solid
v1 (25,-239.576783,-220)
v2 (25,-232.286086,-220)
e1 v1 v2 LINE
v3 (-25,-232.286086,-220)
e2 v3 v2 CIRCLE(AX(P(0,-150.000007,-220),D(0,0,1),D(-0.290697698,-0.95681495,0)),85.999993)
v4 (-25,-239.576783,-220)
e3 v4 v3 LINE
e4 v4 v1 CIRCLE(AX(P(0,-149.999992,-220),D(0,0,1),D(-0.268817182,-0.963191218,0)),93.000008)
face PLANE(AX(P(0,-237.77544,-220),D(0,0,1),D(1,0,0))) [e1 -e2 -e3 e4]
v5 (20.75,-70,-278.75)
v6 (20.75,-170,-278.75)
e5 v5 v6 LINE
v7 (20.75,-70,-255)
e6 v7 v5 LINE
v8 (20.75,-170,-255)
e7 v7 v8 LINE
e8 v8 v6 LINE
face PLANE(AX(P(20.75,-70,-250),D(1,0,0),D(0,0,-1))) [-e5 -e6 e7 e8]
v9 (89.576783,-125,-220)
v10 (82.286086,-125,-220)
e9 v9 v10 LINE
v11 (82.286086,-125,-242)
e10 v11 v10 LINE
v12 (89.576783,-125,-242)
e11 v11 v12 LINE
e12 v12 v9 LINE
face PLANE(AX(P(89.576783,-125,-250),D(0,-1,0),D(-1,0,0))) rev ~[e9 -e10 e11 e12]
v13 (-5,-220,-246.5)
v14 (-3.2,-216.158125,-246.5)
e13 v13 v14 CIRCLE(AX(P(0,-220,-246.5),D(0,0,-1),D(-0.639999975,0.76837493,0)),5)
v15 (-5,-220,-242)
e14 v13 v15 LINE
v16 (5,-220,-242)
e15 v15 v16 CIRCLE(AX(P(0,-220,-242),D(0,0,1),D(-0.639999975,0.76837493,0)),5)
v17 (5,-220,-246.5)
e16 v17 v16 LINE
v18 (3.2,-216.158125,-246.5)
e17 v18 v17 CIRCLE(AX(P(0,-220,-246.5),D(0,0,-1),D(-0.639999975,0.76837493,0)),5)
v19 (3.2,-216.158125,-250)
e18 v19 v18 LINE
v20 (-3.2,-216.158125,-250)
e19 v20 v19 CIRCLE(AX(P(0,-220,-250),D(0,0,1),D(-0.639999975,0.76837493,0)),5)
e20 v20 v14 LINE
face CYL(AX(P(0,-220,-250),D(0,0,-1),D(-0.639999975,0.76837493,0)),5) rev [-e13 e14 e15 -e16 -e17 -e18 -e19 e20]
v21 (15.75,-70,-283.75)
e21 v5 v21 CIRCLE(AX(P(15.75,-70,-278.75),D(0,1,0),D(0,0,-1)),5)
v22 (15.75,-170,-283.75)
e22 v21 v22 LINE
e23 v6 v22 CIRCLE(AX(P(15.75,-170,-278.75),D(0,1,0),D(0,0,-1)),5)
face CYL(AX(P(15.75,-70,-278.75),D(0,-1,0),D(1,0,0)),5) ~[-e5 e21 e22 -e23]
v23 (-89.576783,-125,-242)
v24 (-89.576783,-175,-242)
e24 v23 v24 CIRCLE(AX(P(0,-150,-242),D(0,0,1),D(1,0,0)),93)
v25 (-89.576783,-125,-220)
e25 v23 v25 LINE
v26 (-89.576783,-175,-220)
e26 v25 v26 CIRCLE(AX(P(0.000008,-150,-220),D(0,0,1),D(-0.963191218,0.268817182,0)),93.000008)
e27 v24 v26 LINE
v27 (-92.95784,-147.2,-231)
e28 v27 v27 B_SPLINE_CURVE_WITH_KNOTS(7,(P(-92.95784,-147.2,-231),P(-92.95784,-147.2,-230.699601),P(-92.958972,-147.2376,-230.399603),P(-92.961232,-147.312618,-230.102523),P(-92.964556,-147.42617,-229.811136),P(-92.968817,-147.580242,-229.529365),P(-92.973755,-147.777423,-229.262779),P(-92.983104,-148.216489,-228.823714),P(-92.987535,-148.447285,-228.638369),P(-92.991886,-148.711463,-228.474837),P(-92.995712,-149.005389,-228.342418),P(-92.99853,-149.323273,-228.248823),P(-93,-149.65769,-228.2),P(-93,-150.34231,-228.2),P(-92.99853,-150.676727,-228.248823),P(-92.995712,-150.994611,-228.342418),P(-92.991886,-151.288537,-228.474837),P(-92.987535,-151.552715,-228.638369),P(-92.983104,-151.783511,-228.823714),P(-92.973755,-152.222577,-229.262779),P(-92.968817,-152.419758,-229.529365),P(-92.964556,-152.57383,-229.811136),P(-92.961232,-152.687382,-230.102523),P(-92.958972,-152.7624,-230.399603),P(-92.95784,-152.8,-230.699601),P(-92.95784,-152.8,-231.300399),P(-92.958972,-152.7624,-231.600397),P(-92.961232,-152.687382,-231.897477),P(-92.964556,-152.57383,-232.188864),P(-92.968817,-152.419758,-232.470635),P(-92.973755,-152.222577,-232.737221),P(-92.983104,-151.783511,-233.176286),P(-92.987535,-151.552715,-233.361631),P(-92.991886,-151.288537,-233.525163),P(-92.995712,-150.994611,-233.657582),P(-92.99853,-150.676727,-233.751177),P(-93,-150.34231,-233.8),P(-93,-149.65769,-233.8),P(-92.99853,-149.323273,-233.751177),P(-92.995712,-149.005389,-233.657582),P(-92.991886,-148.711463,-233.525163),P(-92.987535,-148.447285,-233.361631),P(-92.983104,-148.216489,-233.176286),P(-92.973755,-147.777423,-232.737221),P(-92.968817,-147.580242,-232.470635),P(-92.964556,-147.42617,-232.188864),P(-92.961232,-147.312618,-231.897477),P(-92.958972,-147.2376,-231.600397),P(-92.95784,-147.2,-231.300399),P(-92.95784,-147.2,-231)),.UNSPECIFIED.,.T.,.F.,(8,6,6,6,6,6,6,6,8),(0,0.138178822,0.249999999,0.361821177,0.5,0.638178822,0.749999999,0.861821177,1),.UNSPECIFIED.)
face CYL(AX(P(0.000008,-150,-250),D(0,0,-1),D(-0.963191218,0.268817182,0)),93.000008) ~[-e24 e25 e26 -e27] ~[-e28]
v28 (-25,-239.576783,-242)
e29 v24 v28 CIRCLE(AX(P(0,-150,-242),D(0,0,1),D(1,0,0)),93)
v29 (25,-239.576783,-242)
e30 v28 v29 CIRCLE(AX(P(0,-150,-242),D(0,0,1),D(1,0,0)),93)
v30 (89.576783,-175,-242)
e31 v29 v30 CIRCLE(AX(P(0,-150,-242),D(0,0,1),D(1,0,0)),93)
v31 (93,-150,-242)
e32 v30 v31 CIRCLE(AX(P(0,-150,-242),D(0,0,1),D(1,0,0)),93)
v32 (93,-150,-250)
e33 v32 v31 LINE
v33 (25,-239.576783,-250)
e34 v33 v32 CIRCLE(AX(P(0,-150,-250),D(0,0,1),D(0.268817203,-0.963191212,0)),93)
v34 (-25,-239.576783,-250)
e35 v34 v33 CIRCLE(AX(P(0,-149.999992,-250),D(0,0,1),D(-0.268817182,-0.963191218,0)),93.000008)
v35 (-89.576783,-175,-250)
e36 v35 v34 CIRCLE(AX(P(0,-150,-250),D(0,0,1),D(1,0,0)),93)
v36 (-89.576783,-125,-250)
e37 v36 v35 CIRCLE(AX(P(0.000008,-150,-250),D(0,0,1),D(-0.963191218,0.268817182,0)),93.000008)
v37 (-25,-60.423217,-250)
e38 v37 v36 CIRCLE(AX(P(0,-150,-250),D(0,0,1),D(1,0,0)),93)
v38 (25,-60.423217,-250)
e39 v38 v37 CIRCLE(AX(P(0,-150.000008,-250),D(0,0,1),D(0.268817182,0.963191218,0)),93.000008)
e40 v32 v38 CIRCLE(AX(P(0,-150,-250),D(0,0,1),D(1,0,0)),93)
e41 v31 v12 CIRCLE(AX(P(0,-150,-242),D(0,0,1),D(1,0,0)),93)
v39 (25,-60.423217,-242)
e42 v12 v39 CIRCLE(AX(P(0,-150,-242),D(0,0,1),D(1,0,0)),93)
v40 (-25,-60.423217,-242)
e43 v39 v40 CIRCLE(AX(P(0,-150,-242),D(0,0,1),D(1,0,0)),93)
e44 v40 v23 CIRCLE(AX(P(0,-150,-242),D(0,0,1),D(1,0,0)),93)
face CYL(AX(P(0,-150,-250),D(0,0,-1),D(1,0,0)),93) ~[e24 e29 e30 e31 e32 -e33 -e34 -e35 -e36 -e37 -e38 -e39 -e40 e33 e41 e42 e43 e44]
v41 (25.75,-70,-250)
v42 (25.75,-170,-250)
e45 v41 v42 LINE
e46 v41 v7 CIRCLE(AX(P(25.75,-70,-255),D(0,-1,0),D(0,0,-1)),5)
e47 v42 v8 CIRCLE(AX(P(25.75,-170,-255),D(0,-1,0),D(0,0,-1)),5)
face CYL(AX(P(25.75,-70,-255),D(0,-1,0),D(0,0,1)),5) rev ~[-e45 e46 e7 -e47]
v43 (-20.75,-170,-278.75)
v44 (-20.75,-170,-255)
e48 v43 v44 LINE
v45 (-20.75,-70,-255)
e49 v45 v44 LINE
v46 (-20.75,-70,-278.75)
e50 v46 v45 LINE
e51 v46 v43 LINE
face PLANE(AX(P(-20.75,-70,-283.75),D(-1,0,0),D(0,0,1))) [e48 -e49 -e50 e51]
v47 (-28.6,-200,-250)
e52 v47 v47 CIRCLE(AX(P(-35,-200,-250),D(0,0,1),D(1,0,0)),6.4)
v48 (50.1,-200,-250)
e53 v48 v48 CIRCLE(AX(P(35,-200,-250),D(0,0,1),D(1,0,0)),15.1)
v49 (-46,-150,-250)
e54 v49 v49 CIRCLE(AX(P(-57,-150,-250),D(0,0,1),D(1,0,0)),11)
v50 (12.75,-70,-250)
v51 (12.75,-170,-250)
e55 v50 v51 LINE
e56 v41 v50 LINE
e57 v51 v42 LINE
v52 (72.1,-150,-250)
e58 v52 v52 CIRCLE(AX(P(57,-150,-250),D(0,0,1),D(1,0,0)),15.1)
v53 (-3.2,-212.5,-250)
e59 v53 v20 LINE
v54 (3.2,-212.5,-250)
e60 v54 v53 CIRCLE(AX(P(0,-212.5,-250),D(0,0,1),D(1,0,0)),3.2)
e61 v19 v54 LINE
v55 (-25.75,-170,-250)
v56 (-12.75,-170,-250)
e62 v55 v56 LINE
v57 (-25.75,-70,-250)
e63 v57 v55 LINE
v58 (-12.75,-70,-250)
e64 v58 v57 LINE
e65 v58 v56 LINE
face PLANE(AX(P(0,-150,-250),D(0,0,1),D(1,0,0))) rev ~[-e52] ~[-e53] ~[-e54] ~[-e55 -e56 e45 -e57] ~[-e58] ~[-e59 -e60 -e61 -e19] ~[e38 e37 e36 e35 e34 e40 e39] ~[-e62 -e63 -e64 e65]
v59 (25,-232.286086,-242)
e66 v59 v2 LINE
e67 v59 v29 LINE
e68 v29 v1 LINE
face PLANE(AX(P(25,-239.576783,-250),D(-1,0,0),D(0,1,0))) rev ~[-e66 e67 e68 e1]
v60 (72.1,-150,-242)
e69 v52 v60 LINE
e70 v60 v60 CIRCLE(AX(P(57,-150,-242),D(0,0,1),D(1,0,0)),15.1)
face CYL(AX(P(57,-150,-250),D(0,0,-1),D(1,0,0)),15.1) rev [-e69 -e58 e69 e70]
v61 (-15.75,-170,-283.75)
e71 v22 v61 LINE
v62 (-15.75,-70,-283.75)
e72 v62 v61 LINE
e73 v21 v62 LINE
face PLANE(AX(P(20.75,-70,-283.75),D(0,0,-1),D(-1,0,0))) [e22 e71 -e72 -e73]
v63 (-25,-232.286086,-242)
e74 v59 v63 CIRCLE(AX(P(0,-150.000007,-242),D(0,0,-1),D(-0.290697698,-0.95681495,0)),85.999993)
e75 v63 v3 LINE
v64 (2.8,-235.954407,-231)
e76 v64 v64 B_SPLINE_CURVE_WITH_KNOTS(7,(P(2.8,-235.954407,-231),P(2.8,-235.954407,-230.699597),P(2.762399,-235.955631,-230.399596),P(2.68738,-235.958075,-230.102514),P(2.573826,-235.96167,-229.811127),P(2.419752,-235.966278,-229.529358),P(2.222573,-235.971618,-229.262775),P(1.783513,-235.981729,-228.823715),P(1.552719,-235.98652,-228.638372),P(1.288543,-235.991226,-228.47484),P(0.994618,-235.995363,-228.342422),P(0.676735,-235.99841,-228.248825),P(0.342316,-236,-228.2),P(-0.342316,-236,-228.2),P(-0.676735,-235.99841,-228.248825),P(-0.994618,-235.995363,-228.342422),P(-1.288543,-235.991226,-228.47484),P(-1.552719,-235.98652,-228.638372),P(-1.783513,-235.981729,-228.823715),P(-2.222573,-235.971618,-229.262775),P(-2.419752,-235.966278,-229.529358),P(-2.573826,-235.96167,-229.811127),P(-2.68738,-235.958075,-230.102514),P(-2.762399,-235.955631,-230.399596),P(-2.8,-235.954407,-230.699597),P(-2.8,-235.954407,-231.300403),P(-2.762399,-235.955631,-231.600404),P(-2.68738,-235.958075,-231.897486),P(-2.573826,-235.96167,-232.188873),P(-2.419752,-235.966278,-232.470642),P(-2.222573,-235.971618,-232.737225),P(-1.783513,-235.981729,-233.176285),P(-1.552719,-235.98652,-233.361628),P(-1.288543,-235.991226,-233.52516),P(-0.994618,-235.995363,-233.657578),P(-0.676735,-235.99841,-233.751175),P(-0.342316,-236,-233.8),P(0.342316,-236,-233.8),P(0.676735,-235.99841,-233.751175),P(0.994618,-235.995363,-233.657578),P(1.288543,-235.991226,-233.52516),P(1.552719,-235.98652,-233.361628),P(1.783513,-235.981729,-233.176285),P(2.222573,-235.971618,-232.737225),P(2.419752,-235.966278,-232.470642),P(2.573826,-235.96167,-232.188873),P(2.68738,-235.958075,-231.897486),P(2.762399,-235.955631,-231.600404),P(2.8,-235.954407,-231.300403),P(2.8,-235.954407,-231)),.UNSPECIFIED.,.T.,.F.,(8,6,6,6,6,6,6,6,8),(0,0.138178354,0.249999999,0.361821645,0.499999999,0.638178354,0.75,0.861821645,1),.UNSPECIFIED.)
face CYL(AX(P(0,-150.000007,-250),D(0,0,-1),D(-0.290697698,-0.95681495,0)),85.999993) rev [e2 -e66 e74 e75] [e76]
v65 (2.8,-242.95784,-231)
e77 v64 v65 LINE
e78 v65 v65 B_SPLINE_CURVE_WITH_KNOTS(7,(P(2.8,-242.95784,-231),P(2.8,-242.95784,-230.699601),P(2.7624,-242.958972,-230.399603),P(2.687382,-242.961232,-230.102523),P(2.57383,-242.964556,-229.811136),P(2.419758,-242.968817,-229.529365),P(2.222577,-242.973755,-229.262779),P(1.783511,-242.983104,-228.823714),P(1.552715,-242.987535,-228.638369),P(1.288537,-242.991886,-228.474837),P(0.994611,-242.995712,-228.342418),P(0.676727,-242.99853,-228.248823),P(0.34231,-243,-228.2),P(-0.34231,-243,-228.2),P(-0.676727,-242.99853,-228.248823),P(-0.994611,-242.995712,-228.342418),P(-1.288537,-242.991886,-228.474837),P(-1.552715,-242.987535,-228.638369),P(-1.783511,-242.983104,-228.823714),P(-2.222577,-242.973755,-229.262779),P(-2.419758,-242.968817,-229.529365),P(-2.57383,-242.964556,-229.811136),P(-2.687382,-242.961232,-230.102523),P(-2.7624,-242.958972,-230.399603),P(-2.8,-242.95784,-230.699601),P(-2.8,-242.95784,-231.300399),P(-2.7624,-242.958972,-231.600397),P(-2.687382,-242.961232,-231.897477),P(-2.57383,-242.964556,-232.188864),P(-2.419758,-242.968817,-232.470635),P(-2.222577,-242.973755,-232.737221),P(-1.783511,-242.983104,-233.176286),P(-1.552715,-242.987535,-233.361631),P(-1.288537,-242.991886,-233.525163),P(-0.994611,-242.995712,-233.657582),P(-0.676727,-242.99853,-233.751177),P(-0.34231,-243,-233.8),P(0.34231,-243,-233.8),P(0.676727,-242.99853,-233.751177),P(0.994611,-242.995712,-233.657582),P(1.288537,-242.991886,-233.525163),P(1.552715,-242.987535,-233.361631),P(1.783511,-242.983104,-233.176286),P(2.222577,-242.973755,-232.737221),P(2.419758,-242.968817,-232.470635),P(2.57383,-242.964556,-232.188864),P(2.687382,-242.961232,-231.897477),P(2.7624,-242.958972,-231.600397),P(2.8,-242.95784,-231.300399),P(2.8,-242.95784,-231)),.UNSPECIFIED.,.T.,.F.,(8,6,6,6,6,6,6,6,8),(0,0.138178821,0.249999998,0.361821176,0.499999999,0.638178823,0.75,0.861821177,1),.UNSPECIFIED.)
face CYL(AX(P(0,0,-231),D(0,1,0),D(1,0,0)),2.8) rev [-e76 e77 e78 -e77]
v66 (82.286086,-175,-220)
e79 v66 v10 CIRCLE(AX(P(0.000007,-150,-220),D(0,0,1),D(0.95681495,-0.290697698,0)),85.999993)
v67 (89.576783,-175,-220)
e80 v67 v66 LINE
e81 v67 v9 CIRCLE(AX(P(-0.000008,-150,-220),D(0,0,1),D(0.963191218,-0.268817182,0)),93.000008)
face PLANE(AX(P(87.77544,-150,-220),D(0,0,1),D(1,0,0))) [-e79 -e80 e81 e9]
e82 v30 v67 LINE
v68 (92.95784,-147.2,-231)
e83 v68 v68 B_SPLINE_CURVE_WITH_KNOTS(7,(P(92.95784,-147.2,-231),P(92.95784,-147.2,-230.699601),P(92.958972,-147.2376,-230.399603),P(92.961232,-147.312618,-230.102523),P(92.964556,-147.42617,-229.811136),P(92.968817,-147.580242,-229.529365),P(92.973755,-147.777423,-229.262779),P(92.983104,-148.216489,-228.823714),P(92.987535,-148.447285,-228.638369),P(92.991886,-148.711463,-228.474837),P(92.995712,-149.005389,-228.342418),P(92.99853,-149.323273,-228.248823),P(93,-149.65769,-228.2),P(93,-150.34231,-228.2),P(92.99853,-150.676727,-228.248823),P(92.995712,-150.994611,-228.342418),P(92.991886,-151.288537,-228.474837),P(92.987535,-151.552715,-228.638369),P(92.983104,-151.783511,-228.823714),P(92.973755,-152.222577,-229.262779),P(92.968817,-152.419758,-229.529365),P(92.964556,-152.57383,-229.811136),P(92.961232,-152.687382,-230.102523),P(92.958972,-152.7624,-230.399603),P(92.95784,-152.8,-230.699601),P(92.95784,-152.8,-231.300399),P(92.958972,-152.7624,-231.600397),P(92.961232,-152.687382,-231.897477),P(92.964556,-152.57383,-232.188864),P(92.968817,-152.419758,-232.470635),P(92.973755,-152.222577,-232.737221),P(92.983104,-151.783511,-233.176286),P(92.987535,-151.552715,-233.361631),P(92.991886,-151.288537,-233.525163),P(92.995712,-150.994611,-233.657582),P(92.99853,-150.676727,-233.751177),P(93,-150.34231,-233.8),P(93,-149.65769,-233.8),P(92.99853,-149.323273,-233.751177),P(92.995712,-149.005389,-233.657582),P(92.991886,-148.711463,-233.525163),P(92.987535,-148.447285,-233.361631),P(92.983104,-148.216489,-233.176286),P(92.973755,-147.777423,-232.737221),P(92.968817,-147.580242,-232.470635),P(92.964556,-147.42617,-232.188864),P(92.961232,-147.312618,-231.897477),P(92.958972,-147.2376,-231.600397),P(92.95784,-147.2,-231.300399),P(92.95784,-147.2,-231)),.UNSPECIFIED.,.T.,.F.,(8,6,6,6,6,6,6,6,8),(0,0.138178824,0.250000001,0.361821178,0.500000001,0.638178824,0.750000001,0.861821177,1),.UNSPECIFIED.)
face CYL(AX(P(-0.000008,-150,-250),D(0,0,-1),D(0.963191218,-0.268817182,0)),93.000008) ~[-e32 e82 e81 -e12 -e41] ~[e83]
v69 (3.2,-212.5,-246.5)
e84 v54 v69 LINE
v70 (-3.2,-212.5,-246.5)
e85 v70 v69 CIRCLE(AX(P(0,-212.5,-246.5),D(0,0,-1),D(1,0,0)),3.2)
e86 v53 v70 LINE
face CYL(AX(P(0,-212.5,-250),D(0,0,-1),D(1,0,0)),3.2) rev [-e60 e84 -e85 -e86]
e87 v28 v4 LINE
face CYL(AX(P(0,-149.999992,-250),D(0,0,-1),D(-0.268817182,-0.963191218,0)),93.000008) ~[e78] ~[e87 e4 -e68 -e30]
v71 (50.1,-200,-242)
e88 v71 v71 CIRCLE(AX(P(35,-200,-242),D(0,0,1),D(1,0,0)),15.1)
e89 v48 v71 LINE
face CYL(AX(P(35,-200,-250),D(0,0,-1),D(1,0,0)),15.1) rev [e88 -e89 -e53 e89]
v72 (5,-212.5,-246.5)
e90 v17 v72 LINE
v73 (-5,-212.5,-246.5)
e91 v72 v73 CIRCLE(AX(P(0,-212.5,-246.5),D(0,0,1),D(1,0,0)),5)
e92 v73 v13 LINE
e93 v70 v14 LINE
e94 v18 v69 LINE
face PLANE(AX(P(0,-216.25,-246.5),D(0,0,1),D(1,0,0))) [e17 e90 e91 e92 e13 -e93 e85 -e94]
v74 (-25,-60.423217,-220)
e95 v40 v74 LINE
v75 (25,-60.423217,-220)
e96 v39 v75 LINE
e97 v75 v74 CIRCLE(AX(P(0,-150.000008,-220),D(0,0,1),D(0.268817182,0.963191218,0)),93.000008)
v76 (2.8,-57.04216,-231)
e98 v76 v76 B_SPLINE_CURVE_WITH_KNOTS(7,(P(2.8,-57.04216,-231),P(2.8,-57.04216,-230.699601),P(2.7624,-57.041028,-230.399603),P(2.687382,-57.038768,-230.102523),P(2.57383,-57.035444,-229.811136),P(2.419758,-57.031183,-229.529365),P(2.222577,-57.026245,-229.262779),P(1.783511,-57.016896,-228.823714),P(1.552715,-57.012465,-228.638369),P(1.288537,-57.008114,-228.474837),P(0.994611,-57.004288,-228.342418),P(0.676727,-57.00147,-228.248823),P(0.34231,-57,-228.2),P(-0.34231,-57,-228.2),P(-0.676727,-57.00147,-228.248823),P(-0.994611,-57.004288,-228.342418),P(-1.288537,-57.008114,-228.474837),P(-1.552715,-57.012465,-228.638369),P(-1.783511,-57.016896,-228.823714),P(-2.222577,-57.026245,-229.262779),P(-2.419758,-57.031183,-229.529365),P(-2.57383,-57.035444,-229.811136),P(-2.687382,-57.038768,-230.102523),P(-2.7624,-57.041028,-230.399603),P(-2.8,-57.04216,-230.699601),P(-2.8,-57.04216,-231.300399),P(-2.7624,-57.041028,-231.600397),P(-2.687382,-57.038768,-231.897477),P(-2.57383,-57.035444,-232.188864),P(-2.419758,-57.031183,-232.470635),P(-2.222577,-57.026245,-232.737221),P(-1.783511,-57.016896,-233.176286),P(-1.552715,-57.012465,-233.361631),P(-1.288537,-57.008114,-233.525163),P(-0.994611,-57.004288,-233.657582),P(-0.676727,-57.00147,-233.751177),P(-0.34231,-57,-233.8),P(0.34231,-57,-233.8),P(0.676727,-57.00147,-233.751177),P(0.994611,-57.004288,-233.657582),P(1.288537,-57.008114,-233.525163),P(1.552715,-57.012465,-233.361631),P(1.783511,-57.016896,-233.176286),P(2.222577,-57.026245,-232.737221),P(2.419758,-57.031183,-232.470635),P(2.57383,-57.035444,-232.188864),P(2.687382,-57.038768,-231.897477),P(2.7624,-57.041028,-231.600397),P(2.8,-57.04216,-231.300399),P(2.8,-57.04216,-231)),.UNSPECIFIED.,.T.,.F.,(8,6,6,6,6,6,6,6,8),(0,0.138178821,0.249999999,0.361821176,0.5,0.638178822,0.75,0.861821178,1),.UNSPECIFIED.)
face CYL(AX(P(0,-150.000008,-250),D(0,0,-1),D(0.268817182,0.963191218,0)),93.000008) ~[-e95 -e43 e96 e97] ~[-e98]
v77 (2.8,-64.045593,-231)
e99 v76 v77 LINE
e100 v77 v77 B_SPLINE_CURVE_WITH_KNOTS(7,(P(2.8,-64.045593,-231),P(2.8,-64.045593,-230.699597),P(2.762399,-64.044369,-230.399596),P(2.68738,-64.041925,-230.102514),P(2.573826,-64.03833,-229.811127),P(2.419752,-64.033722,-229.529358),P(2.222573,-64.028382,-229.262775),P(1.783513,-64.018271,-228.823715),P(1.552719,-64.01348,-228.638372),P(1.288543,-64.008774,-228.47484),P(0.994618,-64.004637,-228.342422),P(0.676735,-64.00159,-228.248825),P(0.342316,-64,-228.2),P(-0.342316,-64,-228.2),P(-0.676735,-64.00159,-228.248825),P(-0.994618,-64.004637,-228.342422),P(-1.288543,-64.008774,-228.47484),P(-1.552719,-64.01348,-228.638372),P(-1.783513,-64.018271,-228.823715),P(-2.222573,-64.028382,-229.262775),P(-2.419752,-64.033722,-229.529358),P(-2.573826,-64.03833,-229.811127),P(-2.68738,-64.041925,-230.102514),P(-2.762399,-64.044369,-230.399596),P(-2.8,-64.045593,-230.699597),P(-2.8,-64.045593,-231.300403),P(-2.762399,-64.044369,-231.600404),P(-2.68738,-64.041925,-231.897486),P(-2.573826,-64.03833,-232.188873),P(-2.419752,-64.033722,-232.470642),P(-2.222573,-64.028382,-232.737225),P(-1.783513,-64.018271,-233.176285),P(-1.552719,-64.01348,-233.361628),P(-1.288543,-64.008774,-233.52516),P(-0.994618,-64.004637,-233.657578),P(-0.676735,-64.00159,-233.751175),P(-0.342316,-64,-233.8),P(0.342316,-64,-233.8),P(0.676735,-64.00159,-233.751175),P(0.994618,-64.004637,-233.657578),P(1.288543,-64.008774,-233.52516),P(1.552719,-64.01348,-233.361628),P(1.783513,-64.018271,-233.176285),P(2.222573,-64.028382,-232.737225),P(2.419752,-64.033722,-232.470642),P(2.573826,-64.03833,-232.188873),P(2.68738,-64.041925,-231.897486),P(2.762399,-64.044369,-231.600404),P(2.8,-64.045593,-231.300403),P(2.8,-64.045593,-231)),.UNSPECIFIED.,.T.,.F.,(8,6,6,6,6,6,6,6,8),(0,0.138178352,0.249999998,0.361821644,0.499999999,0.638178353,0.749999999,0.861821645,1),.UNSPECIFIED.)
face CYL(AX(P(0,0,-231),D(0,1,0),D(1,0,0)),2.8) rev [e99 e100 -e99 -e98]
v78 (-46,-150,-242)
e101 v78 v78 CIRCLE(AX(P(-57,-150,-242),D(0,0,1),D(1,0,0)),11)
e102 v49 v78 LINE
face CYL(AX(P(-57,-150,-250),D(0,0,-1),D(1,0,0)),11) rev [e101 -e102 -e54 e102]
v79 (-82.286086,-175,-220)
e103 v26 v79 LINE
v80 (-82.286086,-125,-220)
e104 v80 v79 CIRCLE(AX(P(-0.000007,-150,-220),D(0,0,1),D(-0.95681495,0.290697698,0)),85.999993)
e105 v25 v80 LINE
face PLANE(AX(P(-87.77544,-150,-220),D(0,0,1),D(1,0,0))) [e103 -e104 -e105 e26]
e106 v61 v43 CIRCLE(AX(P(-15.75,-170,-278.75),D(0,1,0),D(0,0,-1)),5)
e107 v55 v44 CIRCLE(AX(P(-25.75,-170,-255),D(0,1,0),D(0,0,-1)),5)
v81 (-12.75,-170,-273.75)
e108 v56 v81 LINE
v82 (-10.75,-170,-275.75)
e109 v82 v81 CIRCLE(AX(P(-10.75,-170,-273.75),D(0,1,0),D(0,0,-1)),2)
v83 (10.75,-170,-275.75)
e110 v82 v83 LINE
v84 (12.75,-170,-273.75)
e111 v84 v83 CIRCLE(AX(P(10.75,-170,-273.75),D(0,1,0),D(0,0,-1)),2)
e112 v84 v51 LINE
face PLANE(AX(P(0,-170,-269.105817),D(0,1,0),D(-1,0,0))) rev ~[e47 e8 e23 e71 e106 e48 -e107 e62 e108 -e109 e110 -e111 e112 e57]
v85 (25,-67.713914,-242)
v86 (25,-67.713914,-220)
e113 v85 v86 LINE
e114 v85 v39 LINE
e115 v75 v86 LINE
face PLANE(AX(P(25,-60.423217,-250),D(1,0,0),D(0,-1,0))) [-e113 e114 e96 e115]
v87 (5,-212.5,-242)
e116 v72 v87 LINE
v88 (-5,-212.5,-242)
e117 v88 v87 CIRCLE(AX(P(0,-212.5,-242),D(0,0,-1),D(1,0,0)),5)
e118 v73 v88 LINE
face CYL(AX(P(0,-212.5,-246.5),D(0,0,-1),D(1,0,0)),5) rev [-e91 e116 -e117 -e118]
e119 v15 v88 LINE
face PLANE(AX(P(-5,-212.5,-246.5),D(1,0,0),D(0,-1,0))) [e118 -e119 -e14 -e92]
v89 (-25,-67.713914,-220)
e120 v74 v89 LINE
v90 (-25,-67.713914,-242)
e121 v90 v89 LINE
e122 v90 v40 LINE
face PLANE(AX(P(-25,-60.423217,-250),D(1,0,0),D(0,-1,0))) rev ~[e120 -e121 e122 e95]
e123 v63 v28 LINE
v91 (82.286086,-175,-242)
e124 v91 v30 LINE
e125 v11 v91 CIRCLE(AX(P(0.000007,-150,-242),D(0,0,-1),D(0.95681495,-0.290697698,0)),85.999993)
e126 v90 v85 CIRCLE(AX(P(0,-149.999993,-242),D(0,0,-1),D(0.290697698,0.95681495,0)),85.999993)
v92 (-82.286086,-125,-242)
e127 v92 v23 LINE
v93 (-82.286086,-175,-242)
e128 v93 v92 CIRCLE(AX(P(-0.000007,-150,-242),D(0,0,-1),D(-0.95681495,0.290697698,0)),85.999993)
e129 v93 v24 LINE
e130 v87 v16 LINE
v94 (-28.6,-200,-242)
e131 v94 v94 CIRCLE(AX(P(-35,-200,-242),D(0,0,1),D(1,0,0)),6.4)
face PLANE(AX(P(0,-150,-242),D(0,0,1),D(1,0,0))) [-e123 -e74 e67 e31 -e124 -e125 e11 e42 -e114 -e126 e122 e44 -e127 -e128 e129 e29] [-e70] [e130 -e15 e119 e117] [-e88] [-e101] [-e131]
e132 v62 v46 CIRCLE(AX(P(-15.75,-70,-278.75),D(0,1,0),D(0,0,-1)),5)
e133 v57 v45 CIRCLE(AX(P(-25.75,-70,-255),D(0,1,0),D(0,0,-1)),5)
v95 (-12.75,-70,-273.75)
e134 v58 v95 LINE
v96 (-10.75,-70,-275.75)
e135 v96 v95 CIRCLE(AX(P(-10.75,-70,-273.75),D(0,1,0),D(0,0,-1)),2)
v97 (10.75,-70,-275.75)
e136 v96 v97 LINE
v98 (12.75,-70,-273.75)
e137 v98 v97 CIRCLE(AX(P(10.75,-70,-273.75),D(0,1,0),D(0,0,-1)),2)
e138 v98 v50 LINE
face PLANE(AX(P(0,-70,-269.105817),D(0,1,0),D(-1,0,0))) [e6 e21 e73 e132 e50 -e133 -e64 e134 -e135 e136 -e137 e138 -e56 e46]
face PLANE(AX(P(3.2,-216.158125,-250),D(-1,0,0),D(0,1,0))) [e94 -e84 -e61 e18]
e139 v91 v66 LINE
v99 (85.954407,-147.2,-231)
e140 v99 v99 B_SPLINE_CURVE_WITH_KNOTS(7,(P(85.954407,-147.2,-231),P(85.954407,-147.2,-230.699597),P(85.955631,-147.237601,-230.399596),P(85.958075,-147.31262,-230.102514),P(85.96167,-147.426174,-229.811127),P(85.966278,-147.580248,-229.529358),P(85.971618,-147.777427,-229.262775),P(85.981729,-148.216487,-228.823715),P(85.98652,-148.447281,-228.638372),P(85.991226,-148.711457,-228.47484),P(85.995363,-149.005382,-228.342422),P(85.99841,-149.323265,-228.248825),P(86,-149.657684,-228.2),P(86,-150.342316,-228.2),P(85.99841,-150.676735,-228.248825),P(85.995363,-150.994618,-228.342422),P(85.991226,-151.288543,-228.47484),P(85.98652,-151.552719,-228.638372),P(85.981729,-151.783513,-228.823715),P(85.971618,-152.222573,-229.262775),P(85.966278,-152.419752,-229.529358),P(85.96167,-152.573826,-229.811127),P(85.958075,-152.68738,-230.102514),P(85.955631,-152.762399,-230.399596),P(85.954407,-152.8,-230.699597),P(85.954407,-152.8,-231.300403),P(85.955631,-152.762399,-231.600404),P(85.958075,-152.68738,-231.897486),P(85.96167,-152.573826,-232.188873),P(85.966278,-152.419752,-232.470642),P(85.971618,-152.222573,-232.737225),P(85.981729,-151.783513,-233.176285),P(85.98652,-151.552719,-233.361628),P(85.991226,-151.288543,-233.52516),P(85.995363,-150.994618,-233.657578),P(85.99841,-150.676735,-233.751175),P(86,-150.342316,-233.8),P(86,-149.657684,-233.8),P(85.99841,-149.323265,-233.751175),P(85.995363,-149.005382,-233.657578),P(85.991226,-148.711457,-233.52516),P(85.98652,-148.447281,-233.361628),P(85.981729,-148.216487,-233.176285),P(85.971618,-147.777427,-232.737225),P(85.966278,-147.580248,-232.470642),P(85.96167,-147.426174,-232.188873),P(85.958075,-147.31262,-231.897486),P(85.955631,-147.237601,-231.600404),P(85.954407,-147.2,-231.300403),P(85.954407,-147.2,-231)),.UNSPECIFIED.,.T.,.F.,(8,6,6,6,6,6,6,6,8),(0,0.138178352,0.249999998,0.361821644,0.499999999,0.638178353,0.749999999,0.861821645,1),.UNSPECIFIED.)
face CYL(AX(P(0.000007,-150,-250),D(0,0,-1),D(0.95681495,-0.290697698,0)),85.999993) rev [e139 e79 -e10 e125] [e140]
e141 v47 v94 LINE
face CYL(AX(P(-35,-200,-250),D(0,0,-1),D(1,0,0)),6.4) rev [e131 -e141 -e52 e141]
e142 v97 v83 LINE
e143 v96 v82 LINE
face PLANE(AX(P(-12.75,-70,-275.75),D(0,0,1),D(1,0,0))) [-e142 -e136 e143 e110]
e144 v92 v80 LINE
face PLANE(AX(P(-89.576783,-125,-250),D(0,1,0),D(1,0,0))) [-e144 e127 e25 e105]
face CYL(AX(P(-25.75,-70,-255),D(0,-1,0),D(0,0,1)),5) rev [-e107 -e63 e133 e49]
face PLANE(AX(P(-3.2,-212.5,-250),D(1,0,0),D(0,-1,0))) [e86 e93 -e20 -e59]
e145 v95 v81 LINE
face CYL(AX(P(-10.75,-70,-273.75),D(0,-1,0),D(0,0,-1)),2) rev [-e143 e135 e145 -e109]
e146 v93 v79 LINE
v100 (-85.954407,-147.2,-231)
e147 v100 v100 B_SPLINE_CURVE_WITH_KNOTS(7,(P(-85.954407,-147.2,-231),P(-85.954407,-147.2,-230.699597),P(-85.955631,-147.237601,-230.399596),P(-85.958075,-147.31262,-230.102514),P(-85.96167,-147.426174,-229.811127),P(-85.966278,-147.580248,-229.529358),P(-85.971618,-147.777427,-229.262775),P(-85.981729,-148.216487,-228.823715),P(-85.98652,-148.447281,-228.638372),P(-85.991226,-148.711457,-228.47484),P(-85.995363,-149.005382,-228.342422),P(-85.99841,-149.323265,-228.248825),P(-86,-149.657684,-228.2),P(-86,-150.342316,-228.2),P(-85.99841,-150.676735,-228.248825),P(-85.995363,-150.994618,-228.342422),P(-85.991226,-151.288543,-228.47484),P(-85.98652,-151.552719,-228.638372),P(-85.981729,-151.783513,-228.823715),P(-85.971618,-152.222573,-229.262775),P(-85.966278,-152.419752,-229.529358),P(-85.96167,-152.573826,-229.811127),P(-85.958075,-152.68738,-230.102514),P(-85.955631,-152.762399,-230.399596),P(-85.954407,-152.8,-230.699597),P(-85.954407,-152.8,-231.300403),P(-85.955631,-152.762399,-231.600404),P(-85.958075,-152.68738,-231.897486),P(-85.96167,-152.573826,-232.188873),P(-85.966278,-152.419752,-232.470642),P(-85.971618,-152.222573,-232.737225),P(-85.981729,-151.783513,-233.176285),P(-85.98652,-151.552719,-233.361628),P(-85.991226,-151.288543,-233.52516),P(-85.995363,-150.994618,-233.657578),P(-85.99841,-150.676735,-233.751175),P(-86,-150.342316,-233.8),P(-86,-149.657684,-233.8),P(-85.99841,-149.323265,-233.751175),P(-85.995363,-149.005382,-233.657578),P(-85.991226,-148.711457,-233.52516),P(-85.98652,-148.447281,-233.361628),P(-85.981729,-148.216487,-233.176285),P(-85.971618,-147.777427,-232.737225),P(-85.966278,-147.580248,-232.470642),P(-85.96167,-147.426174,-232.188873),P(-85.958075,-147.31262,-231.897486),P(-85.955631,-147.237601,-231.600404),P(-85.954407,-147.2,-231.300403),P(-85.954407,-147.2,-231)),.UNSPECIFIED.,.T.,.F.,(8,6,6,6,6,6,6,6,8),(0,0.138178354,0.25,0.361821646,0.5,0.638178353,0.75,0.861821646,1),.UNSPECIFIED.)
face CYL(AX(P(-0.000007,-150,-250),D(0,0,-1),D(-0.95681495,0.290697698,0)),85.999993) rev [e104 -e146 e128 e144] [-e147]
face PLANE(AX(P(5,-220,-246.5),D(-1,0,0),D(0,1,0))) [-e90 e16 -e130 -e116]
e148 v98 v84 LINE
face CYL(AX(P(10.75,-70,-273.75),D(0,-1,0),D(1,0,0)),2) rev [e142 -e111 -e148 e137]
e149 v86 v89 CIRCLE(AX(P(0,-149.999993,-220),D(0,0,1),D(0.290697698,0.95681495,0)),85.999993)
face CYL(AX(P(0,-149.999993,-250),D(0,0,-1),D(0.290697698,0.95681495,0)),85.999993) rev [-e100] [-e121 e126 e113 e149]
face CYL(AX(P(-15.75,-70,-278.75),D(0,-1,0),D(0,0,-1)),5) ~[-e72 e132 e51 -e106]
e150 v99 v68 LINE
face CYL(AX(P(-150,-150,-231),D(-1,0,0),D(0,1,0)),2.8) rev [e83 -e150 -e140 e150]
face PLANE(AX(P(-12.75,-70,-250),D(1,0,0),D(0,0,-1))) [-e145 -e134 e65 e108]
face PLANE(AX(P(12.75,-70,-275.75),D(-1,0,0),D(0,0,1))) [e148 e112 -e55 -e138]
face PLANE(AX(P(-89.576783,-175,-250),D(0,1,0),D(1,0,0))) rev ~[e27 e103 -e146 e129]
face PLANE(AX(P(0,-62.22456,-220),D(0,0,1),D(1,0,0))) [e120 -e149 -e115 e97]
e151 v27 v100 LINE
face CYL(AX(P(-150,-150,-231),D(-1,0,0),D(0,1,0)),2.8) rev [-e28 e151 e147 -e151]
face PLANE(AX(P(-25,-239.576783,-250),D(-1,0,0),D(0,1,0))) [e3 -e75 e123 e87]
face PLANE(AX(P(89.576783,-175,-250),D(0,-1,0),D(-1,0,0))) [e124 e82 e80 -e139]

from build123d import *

# Parameters (mm, degrees)
EXTRUDE020_DEPTH  = 10
CYLINDER133_R     = 2.8
CYLINDER133_DEPTH = 300
CYLINDER134_R     = 2.8
CYLINDER134_DEPTH = 300
EXTRUDE023_DEPTH  = 30
SKETCH037_R       = 93
SKETCH037_R_2     = 11
SKETCH037_R_3     = 15.1
SKETCH037_R_4     = 6.4
EXTRUDE019_DEPTH  = 8
EXTRUDE036_DEPTH  = 100
FILLET008_R       = 5
FILLET009_R       = 2
FILLET010_R       = 5


with BuildPart() as miccutlevel5:
    # Sketch038 → Extrude020 (new body)
    with BuildSketch(Plane.XY):
        with BuildLine():
            ThreePointArc((-5, -220), (0, -225), (5, -220))
            Line((5, -220), (5, -212.5))
            ThreePointArc((5, -212.5), (0, -207.5), (-5, -212.5))
            Line((-5, -212.5), (-5, -220))
        make_face()
    extrude(amount=EXTRUDE020_DEPTH)


with BuildPart() as miccutlevel5_1:
    # Extrude020 placement: moved
    add(miccutlevel5.part.moved(Location((0, 0, -246.5))))


with BuildPart() as cylinder133:
    # Cylinder133 → Cylinder133 (new body)
    with BuildSketch(Plane(origin=(0, 0, 90), x_dir=(1, 0, 0), z_dir=(0, -1, 0))):
        Circle(CYLINDER133_R)
    extrude(amount=CYLINDER133_DEPTH)


with BuildPart() as m4heatsetcuts001:
    # Cylinder134 → Cylinder134 (new body)
    with BuildSketch(Plane(origin=(-150, -150, 90), x_dir=(0, 1, 0), z_dir=(1, 0, 0))):
        Circle(CYLINDER134_R)
    extrude(amount=CYLINDER134_DEPTH)

    # Fusion085: union Cylinder133
    add(cylinder133.part)


with BuildPart() as m4heatsetcuts001_1:
    # Fusion085 placement: moved
    add(m4heatsetcuts001.part.moved(Location((0, 0, -321))))


with BuildPart() as srsholdslevel5:
    # Sketch041 → Extrude023 (new body)
    with BuildSketch(Plane.XY):
        with BuildLine():
            ThreePointArc((-89.576783, -125), (-93, -150), (-89.576783, -175))
            Line((-89.576783, -175), (-82.286086, -175))
            ThreePointArc((-82.286086, -125), (-86, -150), (-82.286086, -175))
            Line((-89.576783, -125), (-82.286086, -125))
        make_face()
        with BuildLine():
            ThreePointArc((25, -60.423217), (0, -57), (-25, -60.423217))
            Line((-25, -60.423217), (-25, -67.713914))
            ThreePointArc((25, -67.713914), (0, -64), (-25, -67.713914))
            Line((25, -60.423217), (25, -67.713914))
        make_face()
        with BuildLine():
            ThreePointArc((89.576783, -175), (93, -150), (89.576783, -125))
            Line((89.576783, -125), (82.286086, -125))
            ThreePointArc((82.286086, -175), (86, -150), (82.286086, -125))
            Line((89.576783, -175), (82.286086, -175))
        make_face()
        with BuildLine():
            ThreePointArc((-25, -239.576783), (0, -243), (25, -239.576783))
            Line((25, -239.576783), (25, -232.286086))
            ThreePointArc((-25, -232.286086), (0, -236), (25, -232.286086))
            Line((-25, -239.576783), (-25, -232.286086))
        make_face()
    extrude(amount=EXTRUDE023_DEPTH)


with BuildPart() as srsholdslevel5_1:
    # Extrude023 placement: moved
    add(srsholdslevel5.part.moved(Location((0, 0, -250))))


with BuildPart() as level5s:
    # Sketch037 → Extrude019 (new body)
    with BuildSketch(Plane.XY):
        with Locations((0, -150)):
            Circle(SKETCH037_R)
        with Locations((-57, -150)):
            Circle(SKETCH037_R_2, mode=Mode.SUBTRACT)
        with Locations((57, -150)):
            Circle(SKETCH037_R_3, mode=Mode.SUBTRACT)
        with Locations((35, -200)):
            Circle(SKETCH037_R_3, mode=Mode.SUBTRACT)
        with Locations((-35, -200)):
            Circle(SKETCH037_R_4, mode=Mode.SUBTRACT)
        with BuildLine():
            ThreePointArc((-3.2, -216.158125), (0, -225), (3.2, -216.158125))
            Line((3.2, -216.158125), (3.2, -212.5))
            ThreePointArc((3.2, -212.5), (0, -209.3), (-3.2, -212.5))
            Line((-3.2, -212.5), (-3.2, -216.158125))
        make_face(mode=Mode.SUBTRACT)
    extrude(amount=EXTRUDE019_DEPTH)


with BuildPart() as level5s_1:
    # Extrude019 placement: moved
    add(level5s.part.moved(Location((0, 0, -250))))

    # Fusion083: union srsHoldsLevel5
    add(srsholdslevel5_1.part)

    # Cut035: cut m4HeatSetCuts001
    add(m4heatsetcuts001_1.part, mode=Mode.SUBTRACT)

    # Cut041: cut micCutLevel5
    add(miccutlevel5_1.part, mode=Mode.SUBTRACT)


with BuildPart() as fillet010:
    # Sketch054 → Extrude036 (new body)
    with BuildSketch(Plane.XZ):
        Polygon((-20.75, -250), (-12.75, -250), (-12.75, -275.75), (12.75, -275.75), (12.75, -250), (20.75, -250), (20.75, -283.75), (-20.75, -283.75), align=None)
    extrude(amount=EXTRUDE036_DEPTH)


with BuildPart() as fillet010_1:
    # Extrude036 placement: moved
    add(fillet010.part.moved(Location((0, -70, 0))))

    # Fillet008
    fillet008_edges = [fillet010_1.edges().sort_by_distance(p)[0] for p in [
        (20.75, -120, -283.75),
        (-20.75, -120, -283.75),
    ]]
    fillet(fillet008_edges, radius=FILLET008_R)

    # Fillet009
    fillet009_edges = [fillet010_1.edges().sort_by_distance(p)[0] for p in [
        (12.75, -120, -275.75),
        (-12.75, -120, -275.75),
    ]]
    fillet(fillet009_edges, radius=FILLET009_R)

    # Fusion104: union level5s
    add(level5s_1.part)

    # Fillet010
    fillet010_edges = [fillet010_1.edges().sort_by_distance(p)[0] for p in [
        (-20.75, -120, -250),
        (20.75, -120, -250),
    ]]
    fillet(fillet010_edges, radius=FILLET010_R)


solid = fillet010_1.part
